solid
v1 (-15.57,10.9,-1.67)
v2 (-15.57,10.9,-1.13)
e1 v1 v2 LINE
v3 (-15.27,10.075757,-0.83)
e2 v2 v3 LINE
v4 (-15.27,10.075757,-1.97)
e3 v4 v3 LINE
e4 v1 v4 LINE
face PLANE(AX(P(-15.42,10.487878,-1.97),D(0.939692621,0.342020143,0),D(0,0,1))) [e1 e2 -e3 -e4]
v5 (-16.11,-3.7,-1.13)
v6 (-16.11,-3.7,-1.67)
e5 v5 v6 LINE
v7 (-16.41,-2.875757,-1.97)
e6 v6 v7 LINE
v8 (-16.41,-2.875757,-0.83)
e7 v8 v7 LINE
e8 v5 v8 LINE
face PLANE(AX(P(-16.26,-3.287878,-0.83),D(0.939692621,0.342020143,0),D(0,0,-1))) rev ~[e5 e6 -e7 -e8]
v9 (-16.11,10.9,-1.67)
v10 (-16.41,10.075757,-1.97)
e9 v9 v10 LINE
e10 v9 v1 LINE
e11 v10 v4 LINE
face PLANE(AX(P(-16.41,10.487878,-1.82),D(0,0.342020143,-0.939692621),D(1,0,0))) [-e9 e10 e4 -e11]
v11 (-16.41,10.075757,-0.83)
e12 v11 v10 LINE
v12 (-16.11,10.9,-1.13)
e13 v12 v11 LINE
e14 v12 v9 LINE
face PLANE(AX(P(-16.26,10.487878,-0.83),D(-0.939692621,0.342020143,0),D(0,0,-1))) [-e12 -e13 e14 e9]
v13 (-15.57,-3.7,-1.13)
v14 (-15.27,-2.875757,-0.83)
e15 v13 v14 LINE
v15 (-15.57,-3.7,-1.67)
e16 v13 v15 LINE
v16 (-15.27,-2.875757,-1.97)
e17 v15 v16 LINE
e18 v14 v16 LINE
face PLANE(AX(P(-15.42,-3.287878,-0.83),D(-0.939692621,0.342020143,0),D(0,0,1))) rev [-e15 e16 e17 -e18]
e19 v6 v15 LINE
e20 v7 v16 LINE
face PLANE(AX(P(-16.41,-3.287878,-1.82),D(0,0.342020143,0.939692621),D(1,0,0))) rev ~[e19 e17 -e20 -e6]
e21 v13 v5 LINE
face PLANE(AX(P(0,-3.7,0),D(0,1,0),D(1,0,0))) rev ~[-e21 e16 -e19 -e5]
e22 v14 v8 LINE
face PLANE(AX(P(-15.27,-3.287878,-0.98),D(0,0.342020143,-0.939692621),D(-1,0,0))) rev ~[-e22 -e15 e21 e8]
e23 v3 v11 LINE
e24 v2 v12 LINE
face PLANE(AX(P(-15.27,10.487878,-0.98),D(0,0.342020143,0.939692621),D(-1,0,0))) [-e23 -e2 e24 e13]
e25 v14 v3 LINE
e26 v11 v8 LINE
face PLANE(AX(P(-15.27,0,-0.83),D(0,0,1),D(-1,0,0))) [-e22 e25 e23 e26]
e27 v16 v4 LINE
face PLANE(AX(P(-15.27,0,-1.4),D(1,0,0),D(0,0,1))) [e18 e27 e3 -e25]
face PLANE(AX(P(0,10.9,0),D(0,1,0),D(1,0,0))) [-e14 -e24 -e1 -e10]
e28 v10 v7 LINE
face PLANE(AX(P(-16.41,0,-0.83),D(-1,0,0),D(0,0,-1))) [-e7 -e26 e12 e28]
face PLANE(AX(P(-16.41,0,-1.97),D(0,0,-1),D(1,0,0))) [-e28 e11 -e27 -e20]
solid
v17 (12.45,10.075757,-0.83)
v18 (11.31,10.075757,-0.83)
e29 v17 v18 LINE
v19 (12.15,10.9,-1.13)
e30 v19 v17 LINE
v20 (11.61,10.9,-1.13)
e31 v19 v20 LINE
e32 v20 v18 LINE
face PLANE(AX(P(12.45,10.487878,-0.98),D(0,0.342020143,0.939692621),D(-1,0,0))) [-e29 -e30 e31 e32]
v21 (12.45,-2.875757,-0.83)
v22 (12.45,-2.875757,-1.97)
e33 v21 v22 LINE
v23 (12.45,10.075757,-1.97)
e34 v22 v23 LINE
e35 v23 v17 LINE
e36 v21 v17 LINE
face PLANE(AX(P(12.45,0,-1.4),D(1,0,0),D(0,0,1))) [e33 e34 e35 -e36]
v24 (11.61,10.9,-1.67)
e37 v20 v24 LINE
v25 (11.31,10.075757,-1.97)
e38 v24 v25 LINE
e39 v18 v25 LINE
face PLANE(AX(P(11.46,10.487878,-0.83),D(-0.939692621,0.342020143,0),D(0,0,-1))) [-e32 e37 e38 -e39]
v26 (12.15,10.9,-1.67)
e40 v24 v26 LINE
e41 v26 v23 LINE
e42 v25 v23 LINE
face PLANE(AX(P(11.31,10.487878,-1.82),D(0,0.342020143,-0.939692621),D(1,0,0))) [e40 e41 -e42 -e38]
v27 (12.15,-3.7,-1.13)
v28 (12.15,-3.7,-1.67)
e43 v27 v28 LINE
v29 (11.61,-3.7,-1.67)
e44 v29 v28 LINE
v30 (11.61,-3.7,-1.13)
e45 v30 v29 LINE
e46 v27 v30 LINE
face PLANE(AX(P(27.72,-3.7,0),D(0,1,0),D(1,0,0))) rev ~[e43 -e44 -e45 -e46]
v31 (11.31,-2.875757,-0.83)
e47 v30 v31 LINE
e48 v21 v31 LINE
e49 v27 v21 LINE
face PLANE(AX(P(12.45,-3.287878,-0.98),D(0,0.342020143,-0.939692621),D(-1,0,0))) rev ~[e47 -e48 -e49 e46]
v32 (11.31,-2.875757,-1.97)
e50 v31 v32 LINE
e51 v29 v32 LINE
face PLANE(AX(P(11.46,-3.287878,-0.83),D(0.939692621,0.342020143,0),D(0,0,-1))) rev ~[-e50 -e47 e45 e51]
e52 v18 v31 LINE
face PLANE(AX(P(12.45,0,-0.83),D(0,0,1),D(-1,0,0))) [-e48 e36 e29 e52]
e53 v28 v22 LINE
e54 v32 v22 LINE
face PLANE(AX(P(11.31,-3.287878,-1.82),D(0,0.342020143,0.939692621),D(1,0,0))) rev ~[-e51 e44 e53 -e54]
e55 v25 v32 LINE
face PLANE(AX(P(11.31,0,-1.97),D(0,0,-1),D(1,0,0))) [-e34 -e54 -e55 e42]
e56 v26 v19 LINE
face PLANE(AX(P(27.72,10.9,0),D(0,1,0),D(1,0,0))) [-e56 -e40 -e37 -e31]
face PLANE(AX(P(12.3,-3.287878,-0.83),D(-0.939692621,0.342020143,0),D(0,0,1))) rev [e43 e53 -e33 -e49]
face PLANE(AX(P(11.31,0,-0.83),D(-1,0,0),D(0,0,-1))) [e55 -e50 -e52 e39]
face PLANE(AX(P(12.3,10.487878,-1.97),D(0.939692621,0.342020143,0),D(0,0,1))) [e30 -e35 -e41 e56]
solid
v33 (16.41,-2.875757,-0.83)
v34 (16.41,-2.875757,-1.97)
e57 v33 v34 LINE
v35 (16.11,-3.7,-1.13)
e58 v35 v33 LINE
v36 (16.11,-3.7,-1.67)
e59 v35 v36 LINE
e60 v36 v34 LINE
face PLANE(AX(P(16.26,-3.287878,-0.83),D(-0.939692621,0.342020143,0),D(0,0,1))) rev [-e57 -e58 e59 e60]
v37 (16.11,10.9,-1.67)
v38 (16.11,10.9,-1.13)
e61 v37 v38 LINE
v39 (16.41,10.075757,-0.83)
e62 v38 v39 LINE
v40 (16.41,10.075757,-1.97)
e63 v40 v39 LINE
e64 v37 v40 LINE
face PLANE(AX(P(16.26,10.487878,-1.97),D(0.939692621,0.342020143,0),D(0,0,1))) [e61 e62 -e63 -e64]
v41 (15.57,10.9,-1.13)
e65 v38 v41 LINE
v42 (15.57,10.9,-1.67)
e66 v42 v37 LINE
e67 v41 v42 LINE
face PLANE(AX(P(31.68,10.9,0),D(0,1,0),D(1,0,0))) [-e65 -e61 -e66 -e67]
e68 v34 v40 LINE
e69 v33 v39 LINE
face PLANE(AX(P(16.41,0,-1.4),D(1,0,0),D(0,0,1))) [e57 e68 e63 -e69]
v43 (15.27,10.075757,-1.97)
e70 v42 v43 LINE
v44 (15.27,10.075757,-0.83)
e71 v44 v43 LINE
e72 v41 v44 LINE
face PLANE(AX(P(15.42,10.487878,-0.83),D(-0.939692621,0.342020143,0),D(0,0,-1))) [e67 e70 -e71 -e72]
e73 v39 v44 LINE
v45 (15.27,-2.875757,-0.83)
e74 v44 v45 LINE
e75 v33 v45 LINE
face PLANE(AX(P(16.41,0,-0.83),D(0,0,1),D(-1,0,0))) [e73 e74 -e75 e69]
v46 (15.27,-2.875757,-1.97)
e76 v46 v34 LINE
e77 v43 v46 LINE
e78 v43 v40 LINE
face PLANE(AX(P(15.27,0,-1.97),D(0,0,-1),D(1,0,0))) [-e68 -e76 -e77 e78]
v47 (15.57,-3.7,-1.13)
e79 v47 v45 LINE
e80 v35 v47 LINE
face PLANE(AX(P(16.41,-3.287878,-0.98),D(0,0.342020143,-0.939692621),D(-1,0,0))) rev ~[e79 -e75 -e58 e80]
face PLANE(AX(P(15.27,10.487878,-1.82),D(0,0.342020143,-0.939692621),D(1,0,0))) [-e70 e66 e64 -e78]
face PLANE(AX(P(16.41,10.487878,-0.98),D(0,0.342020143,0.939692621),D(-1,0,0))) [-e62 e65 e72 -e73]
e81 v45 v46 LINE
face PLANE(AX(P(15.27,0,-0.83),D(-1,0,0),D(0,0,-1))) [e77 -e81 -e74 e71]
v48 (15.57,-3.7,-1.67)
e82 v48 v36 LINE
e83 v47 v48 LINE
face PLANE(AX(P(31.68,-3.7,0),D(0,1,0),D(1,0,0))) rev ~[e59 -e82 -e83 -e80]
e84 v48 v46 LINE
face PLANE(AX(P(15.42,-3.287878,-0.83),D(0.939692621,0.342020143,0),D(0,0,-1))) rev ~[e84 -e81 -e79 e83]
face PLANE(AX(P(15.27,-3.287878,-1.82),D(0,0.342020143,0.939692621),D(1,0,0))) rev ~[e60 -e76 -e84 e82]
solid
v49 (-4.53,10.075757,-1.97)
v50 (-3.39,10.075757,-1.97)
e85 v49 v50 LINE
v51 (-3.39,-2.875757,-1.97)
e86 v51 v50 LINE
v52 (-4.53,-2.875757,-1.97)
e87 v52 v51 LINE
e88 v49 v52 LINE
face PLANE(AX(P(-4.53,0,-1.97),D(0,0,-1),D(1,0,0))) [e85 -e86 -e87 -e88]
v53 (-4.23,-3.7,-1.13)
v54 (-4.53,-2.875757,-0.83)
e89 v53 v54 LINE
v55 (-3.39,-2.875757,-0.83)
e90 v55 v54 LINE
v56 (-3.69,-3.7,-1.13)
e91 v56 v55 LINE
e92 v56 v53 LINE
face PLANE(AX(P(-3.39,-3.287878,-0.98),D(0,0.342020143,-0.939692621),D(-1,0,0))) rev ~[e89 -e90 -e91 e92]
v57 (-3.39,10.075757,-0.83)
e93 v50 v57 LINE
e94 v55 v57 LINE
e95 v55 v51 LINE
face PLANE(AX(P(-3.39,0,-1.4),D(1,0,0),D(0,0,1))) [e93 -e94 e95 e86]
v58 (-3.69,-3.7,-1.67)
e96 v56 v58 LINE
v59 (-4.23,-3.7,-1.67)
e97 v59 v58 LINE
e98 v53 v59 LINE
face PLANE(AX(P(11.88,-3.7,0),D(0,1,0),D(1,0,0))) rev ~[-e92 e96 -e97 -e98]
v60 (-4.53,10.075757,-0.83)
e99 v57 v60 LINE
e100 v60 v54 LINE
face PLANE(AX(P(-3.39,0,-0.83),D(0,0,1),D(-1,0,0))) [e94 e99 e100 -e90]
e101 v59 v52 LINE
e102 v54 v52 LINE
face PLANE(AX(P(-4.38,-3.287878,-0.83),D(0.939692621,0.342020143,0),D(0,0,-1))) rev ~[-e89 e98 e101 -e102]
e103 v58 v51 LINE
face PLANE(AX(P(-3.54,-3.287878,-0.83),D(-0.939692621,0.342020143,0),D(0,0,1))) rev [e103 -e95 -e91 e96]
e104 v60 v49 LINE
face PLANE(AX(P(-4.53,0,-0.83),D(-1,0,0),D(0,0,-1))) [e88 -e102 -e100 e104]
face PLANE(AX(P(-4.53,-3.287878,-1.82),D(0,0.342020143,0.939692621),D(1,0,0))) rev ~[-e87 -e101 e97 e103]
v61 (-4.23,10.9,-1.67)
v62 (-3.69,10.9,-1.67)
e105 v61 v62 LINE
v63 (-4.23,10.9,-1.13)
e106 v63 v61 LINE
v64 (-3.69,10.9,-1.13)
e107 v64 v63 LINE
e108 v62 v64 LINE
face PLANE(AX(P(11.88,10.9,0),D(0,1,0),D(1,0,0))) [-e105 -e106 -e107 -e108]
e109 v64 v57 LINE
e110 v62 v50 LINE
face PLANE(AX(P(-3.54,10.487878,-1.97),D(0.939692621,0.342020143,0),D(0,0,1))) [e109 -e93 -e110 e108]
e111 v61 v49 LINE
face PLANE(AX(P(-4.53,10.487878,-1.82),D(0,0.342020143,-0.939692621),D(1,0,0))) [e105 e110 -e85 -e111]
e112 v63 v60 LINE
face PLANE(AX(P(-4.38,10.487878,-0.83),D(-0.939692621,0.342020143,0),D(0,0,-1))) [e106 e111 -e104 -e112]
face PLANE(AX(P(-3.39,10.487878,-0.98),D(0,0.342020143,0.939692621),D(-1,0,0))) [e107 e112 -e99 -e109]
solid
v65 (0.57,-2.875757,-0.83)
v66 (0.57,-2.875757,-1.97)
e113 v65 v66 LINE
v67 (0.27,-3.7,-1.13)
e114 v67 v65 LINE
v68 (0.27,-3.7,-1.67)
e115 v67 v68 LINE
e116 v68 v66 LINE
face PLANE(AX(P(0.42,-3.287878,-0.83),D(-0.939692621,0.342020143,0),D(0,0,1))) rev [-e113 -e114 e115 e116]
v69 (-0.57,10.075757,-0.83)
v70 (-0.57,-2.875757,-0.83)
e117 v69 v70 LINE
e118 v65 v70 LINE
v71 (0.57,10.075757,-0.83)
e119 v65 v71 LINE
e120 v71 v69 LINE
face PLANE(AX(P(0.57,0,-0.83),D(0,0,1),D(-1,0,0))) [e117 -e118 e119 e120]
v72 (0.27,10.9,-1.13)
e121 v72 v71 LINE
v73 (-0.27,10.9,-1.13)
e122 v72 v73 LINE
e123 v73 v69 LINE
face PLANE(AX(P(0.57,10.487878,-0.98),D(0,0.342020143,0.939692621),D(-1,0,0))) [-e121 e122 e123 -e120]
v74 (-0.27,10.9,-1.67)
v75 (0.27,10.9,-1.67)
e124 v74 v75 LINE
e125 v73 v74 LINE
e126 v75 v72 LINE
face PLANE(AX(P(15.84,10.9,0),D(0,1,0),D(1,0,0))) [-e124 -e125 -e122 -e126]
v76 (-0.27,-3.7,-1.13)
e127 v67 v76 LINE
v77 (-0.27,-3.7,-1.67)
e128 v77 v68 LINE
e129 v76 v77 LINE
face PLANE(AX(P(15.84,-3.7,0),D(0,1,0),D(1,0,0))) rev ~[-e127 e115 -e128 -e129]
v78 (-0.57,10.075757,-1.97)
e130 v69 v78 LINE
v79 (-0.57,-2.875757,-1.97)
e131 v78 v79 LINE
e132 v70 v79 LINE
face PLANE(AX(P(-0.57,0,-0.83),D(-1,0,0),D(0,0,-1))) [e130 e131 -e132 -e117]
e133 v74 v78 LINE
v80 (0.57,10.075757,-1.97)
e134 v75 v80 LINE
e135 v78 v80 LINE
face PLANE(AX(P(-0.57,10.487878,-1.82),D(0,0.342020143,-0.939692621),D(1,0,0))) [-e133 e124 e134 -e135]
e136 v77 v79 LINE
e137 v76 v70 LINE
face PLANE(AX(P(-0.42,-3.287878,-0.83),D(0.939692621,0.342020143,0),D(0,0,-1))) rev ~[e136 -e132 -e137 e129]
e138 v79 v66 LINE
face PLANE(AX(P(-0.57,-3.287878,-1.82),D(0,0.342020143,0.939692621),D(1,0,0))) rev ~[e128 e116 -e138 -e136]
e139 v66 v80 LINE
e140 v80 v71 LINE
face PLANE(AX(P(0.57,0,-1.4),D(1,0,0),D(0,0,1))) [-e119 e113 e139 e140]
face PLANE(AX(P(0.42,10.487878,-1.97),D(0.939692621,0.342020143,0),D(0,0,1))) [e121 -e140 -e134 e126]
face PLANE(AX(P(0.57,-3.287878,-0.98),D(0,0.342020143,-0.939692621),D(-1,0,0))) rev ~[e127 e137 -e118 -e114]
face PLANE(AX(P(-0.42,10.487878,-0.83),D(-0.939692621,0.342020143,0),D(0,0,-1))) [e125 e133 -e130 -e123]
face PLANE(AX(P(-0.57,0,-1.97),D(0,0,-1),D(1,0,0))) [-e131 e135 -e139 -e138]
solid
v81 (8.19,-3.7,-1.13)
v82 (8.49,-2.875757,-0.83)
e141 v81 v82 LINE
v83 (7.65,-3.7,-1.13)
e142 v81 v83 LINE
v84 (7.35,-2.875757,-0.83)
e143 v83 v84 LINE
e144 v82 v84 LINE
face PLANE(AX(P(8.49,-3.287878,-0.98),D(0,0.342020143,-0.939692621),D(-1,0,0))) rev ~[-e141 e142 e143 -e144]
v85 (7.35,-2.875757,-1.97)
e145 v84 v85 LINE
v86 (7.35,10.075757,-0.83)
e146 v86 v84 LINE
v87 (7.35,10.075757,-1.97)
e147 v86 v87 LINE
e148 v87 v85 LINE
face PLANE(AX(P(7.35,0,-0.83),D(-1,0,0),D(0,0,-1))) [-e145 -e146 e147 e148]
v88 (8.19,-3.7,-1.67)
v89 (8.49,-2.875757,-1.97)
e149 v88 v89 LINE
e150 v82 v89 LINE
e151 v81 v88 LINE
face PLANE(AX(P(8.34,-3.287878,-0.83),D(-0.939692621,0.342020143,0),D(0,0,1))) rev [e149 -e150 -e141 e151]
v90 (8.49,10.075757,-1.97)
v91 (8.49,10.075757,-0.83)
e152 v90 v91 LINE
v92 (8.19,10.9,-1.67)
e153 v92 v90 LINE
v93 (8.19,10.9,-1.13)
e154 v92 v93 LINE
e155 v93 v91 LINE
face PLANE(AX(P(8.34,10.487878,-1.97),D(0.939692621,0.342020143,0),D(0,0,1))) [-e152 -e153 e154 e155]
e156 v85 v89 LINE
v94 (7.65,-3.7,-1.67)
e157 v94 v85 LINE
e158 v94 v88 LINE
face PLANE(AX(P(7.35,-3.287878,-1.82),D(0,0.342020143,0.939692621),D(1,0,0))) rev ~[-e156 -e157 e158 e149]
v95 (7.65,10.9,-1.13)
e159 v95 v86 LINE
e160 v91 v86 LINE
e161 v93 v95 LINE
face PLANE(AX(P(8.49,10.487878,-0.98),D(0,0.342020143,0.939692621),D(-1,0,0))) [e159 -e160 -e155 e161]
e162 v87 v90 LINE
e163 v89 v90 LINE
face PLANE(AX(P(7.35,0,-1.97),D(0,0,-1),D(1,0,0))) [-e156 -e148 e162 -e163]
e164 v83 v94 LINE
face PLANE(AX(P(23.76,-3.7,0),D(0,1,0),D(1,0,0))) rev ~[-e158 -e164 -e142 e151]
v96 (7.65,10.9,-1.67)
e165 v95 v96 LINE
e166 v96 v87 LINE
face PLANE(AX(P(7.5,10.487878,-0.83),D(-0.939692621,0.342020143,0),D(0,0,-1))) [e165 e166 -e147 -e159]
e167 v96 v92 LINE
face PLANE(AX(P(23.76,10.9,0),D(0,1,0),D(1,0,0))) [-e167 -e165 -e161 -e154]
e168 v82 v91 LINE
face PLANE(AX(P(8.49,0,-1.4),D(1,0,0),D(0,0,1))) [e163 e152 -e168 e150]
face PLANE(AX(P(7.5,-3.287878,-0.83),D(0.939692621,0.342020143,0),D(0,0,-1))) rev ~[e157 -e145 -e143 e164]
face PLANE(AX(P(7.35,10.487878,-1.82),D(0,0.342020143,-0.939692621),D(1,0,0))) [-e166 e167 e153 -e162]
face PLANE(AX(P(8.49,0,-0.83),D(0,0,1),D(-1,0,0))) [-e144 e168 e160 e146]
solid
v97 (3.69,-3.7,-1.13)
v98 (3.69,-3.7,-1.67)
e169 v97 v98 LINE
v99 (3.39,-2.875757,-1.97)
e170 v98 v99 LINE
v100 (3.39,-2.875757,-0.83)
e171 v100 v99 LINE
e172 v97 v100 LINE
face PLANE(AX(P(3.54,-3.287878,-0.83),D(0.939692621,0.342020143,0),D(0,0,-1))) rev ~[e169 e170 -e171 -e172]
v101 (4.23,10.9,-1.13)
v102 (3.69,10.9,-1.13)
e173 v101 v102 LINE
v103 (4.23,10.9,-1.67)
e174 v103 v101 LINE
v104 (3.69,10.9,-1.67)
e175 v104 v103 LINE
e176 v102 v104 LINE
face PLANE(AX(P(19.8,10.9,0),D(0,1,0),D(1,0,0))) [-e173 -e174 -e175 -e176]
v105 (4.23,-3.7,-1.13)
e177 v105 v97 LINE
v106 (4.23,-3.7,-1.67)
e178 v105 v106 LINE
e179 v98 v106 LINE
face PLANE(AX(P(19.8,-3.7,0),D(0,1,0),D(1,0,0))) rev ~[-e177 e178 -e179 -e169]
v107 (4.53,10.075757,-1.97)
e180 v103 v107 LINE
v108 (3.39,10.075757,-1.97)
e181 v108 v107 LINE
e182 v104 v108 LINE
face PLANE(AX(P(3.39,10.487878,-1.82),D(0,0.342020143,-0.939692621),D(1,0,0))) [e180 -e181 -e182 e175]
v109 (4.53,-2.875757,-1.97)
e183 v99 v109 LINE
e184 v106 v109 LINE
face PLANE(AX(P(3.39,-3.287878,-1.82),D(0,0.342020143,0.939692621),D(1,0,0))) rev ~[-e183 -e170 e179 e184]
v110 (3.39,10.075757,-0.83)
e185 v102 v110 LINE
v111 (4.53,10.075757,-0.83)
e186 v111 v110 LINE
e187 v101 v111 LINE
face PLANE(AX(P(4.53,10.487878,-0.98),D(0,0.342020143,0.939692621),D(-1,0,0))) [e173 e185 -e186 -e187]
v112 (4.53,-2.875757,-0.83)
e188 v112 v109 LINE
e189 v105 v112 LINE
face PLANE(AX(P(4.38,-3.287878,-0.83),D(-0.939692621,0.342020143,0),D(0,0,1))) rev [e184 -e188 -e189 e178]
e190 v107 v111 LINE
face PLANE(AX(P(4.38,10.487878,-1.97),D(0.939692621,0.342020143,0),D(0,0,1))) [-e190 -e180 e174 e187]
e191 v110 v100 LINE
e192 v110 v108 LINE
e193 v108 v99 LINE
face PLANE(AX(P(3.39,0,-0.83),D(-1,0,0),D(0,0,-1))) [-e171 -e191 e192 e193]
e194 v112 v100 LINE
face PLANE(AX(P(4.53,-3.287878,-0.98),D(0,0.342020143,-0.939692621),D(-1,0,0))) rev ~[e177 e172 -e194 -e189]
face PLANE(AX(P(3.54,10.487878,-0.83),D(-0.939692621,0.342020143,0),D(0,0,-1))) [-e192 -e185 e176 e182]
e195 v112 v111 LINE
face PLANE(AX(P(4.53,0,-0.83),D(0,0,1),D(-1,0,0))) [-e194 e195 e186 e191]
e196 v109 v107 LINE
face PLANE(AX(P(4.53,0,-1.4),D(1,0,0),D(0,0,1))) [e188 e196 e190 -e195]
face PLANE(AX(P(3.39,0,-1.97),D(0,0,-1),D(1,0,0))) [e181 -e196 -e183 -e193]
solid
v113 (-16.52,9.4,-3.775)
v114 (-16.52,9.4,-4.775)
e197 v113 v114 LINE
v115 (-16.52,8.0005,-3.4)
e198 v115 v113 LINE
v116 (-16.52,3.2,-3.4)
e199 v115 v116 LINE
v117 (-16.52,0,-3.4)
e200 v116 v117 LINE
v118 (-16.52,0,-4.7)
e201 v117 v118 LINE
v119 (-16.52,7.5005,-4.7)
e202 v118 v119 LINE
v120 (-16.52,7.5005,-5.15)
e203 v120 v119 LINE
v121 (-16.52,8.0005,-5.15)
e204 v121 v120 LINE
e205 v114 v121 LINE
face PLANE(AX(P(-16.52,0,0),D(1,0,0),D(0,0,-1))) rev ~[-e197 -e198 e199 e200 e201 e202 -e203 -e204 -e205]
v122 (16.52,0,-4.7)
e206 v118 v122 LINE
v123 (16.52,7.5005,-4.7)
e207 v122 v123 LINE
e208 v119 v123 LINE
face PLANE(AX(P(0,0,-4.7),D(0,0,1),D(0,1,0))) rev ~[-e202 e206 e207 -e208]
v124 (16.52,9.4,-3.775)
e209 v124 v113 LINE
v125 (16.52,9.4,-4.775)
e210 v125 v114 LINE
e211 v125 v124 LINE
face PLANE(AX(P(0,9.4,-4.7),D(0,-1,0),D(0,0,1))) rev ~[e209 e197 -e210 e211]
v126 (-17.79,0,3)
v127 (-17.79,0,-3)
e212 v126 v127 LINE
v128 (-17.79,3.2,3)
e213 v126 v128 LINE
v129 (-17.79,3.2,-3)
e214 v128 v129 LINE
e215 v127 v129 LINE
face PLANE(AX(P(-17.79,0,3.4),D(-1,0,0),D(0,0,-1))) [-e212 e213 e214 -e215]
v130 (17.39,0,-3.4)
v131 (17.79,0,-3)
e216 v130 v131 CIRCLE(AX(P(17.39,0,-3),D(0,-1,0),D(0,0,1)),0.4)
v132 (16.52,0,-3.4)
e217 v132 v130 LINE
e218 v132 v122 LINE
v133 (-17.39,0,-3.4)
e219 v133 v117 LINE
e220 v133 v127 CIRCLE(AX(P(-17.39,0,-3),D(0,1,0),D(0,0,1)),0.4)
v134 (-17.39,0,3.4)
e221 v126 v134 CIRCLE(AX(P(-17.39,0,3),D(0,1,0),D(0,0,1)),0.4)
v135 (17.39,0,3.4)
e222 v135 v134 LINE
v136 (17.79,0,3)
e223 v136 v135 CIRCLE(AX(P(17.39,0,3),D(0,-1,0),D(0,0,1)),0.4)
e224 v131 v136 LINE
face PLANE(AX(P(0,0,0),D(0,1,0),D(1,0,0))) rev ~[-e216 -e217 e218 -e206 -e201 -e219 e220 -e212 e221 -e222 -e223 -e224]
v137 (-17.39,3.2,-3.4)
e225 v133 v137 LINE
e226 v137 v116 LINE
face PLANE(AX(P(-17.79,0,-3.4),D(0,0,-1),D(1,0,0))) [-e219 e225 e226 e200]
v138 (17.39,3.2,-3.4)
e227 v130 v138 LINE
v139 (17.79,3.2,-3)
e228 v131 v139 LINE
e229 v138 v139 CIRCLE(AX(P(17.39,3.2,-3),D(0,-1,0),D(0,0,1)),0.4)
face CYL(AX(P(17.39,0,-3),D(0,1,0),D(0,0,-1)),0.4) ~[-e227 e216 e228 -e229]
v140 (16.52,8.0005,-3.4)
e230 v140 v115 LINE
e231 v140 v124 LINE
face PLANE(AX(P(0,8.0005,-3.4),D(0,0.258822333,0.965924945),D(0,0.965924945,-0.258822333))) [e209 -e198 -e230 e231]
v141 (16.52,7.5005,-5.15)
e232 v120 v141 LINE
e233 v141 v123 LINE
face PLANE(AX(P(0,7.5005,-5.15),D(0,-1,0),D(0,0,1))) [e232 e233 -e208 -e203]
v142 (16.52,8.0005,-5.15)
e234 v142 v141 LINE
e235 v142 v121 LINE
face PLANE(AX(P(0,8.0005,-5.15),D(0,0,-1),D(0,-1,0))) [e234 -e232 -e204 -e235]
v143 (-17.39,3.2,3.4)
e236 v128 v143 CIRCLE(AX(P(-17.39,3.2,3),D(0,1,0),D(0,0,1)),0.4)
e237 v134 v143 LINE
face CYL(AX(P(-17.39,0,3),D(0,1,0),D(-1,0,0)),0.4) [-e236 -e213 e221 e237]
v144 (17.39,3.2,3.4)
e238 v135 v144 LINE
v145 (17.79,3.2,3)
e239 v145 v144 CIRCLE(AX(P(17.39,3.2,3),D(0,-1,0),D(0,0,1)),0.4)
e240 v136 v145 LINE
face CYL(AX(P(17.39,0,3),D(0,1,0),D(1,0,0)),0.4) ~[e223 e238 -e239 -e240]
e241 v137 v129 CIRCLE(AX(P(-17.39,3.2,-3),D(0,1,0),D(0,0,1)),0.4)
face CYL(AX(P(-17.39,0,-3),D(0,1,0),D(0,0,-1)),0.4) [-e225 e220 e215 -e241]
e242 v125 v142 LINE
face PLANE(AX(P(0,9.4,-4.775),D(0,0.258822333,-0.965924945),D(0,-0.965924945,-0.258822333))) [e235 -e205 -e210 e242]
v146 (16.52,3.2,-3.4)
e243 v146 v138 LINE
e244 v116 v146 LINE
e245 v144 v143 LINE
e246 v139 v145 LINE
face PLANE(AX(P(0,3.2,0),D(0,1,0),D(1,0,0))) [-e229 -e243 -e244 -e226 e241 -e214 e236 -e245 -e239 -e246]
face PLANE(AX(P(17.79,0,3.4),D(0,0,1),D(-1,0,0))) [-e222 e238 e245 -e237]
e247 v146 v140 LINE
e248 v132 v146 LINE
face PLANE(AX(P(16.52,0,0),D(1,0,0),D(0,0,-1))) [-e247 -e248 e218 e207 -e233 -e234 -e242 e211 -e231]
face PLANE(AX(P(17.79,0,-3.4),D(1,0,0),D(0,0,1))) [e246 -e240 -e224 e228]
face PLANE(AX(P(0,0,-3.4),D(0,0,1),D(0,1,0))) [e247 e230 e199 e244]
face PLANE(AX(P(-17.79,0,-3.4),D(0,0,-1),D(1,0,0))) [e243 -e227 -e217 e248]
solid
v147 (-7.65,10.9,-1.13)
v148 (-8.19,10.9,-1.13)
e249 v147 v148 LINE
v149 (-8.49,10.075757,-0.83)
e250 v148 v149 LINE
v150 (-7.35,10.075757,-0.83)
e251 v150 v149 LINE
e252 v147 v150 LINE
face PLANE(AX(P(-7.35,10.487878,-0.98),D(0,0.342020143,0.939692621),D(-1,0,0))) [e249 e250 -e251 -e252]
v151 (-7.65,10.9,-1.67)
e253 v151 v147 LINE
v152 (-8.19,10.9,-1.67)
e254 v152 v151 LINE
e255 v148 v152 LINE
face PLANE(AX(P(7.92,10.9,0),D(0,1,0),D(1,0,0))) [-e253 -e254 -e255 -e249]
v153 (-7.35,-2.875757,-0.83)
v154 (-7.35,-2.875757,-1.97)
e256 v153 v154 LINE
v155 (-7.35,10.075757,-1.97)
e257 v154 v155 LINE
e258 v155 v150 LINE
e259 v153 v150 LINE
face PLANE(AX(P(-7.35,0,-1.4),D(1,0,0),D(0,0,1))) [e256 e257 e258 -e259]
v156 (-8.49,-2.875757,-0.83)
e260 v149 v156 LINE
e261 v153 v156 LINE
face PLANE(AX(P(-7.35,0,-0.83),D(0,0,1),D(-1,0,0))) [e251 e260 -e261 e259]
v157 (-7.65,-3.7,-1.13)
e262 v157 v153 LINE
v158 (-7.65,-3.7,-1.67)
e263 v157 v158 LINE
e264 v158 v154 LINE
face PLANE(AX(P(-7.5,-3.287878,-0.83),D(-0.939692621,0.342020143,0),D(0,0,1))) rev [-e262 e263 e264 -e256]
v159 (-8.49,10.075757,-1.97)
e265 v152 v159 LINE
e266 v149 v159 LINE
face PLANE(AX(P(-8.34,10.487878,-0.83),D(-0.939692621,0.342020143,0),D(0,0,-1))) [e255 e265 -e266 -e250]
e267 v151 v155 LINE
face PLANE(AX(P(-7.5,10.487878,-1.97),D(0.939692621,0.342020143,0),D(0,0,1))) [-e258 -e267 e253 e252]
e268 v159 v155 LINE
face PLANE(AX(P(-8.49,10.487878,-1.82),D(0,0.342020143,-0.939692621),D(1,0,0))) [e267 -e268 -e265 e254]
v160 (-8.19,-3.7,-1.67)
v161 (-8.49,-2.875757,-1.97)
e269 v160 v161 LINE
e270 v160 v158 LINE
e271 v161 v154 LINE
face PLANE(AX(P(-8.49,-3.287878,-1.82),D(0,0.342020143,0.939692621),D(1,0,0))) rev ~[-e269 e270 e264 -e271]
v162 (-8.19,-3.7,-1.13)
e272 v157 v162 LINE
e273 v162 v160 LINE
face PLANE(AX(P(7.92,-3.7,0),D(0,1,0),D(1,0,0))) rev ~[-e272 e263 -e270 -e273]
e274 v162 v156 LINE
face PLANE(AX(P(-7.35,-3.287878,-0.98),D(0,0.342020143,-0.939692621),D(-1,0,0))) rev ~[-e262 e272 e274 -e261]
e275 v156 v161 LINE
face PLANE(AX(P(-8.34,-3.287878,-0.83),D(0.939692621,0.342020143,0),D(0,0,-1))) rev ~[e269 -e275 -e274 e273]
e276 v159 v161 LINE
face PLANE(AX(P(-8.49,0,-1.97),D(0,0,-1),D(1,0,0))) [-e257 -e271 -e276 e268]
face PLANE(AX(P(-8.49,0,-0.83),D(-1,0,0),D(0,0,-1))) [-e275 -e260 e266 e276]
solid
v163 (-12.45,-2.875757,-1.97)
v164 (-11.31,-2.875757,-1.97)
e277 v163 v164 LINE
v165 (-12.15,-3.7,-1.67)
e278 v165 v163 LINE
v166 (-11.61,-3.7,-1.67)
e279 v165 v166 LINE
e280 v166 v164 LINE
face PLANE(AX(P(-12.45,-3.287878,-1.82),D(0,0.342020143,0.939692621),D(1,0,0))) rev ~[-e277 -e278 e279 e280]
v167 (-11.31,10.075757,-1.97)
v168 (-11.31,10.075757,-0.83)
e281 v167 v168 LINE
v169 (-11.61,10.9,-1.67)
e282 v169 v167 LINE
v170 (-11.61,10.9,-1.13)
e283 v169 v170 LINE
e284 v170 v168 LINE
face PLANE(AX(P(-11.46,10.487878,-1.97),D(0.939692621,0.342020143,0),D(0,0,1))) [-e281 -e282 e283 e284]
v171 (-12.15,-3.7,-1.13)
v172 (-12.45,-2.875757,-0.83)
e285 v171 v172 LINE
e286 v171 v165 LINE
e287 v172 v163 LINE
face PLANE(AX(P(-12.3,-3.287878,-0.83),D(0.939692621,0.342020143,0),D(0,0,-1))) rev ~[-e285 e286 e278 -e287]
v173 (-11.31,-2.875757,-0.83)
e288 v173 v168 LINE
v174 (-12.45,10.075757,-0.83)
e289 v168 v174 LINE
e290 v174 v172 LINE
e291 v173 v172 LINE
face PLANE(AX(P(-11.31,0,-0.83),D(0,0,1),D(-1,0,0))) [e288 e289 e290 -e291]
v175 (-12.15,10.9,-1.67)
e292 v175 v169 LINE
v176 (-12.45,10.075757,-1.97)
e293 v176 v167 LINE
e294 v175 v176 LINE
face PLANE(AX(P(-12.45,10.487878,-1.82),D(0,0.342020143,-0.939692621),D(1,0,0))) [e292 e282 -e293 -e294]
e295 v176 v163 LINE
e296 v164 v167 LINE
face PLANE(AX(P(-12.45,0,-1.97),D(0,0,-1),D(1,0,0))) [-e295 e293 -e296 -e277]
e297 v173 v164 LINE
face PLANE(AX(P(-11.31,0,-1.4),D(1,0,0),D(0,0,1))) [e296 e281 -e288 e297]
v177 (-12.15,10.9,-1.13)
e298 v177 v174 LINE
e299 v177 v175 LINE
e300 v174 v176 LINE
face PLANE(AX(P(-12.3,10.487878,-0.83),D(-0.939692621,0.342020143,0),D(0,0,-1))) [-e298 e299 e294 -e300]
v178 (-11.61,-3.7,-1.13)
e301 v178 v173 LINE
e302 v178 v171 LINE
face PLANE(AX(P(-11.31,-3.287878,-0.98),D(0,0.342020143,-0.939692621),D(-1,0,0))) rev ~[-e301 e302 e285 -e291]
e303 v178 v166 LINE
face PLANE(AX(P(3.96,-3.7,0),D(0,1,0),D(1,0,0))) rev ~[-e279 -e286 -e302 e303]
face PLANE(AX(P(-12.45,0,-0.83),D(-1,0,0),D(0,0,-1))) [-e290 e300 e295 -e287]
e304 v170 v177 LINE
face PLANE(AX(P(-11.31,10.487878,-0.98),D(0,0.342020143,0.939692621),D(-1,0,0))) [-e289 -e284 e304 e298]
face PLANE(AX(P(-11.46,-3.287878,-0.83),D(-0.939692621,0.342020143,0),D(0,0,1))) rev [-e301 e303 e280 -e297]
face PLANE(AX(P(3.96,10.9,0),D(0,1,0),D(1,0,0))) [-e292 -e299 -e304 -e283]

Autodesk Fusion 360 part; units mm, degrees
sketch "Skizze1" plane through (0, 0, 0) normal (0, 1, 0) x (1, 0, 0)
  line L0 (-17.79, 3.4) -> (17.79, 3.4)
  line L1 (17.79, 3.4) -> (17.79, -3.4)
  line L2 (17.79, -3.4) -> (-17.79, -3.4)
  line L3 (-17.79, -3.4) -> (-17.79, 3.4)
  line L4 (0, 3.4) -> (0, -3.4) construction
  dimension "d9" = 35.58
  dimension "d10" = 6.8
extrude "Extrusion1" add sketch "Skizze1" along normal blind 3.2 makes body 1
sketch "Skizze3" plane through (0, 0, 0) normal (1, 0, 0) x (0, 0, -1)
  line L0 (3.4, 0) -> (3.4, 3.2)
  line L1 (3.4, 0) -> (4.7, 0)
  line L2 (4.7, 0) -> (4.7, 9.4)
  line L3 (4.7, 9.4) -> (3.4, 9.4) construction
  line L4 (3.4, 9.4) -> (3.4, 0)
  line L5 (4.7, 9.4) -> (5.15, 9.4)
  line L6 (5.15, 9.4) -> (5.15, 0)
  line L7 (5.15, 0) -> (4.7, 0)
  line L8 (4.7, 0) -> (4.7, 9.4) construction
  line L9 (3.4, 8.0005) -> (3.775, 9.4)
  line L10 (4.775, 9.4) -> (5.15, 8.0005)
  line L11 (5.15, 7.5005) -> (4.7, 7.5005)
  line L12 (4.775, 9.4) -> (3.775, 9.4)
  line L13 (3.775, 9.4) -> (4.775, 9.4) construction
  line L14 (4.775, 9.4) -> (5.15, 9.4) construction
  line L15 (3.775, 9.4) -> (3.4, 9.4) construction
  line L16 (5.15, 9.4) -> (4.775, 9.4) construction
  line L17 (5.15, 8.0005) -> (5.15, 7.5005) construction
  line L18 (5.15, 7.5005) -> (5.15, 8.0005) construction
  line L19 (5.15, 9.4) -> (3.4, 9.4)
  line L20 (5.15, 0) -> (3.4, 0)
  dimension "d31" = 9.4
  dimension "d33" = 1.3
  dimension "d35" = 90
  dimension "d36" = 75
  dimension "d37" = 75
  dimension "d39" = 1
  dimension "d42" = 0.5
  dimension "d48" = 1.75
sketch "Skizze2" plane through (0, 0, 0) normal (0, 1, 0) x (1, 0, 0)
  line L0 (-15.27, 0.83) -> (-16.41, 0.83)
  line L1 (-16.41, 0.83) -> (-16.41, 1.97)
  line L2 (-16.41, 1.97) -> (-15.27, 1.97)
  line L3 (-15.27, 1.97) -> (-15.27, 0.83)
  line L4 (-17.79, 3.4) -> (17.79, 3.4)
  line L5 (17.79, 3.4) -> (17.79, -3.4)
  line L6 (17.79, -3.4) -> (-17.79, -3.4)
  line L7 (-17.79, -3.4) -> (-17.79, 3.4)
  line L8 (0, 3.4) -> (0, 1.4) construction
  line L9 (-15.27, 1.4) -> (-16.41, 1.4) construction
  line L10 (0, 1.4) -> (-15.84, 1.4)
  point P0 (-15.84, 1.4)
  dimension "d16" = 1.14
  dimension "d17" = 1.14
  dimension "d24" = 2
  dimension "d26" = 15.84
extrude "Extrusion3" add sketch "Skizze3" along normal mid plane 33.04 contours L0 L1 L2 L4 L9 L12 L19 L20 | L2 L5 L6 L10 L11 L12 L19 bodies 1
extrude "Extrusion2" add sketch "Skizze2" along normal blind 10.9 and the other way blind 3.7 separate body contours L0 L1 L2 L3 makes body 2
chamfer "Fase2" distance 0.3 angle 70 8 edges at (-15.84, 10.9, -0.83) (-15.27, 10.9, -1.4) (-15.84, 10.9, -1.97) (-16.41, 10.9, -1.4) (-15.27, -3.7, -1.4) (-15.84, -3.7, -0.83) (-16.41, -3.7, -1.4) (-15.84, -3.7, -1.97) measured on face at (-15.65, 10.9, -1.21) measured on face at (-15.65, 10.9, -1.21) measured on face at (-15.65, 10.9, -1.21) measured on face at (-15.65, 10.9, -1.21) measured on face at (-15.65, -3.7, -1.21) measured on face at (-15.65, -3.7, -1.21) measured on face at (-15.65, -3.7, -1.21) measured on face at (-15.65, -3.7, -1.21) on bodies 2
pattern_linear "R-Anordnung1" count 9 spacing 3.96 along (1, 0, 0) of bodies 2 makes body 3 at (-11.31, 1.4414, -1.59) makes body 4 at (-7.35, 1.4414, -1.59) makes body 5 at (-3.39, 1.4414, -1.59) makes body 6 at (0.57, 1.4414, -1.59) makes body 7 at (4.53, 1.4414, -1.59) makes body 8 at (8.49, 1.4414, -1.59) makes body 9 at (12.45, 1.4414, -1.59) makes body 10 at (16.41, 1.4414, -1.59)
fillet "Abrundung1" radius 0.4 4 edges at (17.79, 1.6, -3.4) (17.79, 1.6, 3.4) (-17.79, 1.6, 3.4) (-17.79, 1.6, -3.4) on bodies 1
equation "n = 9" comment "Number of pins"
equation "P = 3.96 mm" comment "Pin pitch"
equation "B1 = A1 + ( 1.95 mm * 2 )" comment "Width of bottom plate"
equation "A1 = ( n - 1 ) * P" comment "Total width of all pins"
equation "C1 = 6.8 mm" comment "Height of bottom plate"
equation "H1 = 9.4 mm" comment "Height of latching plate"
equation "O1 = 2 mm" comment "Vertical offset pin-center to bottom plate border"
equation "d9 = B1"
equation "d10 = C1"
equation "D1 = 3.2 mm" comment "Total depth of bottom plate"
equation "Pw = 1.14 mm" comment "Width & height of square pin"
equation "d13 = D1"
equation "d16 = Pw"
equation "d17 = Pw"
equation "LPinTop = 7.7 mm + D1" comment "Length of the pin measured from the bottom plane to the top of the pin (away from PCB)"
equation "LPinBottom = 14.6 mm - LPinTop" comment "Length of the pin in bottom direction, measured from the bottom plane"
equation "d20 = LPinTop"
equation "d22 = LPinBottom"
equation "d24 = O1"
equation "Pin1XOffset = ( ( n - 1 ) * P ) / 2" comment "First pin X offset measured from the X axis"
equation "d26 = Pin1XOffset"
equation "d27 = n"
equation "d29 = P"
equation "d31 = H1"
equation "D2 = 1.3 mm" comment "(Measured) depth of latching plate (narrowest section)"
equation "d33 = D2"
equation "d35 = alpha"
equation "d36 = 90 deg - beta"
equation "d37 = 90 deg - beta"
equation "Wx1 = 1.0 mm" comment "(Measured) Width of the topmost part of the latching plate"
equation "Hx1 = 0.5 mm" comment "(Measured) Height of the latching surface facing away from the pins"
equation "alpha = 90 deg" comment "Angle of the latching surface. Shown by the datasheet as ~45°but real parts have 90°"
equation "d42 = Hx1"
equation "beta = 15 deg" comment "(Estimated) Latching plate tapering angle"
equation "WL1 = 1.27 mm" comment "(Measured) With of the section of the bottom plate where there is no latching plate per side)"
equation "d45 = B1 - ( WL1 * 2 )"
equation "Dlatch = 1.75 mm" comment "(Measured) Total depth of latching plate"
equation "d48 = Dlatch"
equation "d54 = delta"
equation "delta = 70 deg" comment "(Estimated) Taper angle of the pin top & bottoms"
